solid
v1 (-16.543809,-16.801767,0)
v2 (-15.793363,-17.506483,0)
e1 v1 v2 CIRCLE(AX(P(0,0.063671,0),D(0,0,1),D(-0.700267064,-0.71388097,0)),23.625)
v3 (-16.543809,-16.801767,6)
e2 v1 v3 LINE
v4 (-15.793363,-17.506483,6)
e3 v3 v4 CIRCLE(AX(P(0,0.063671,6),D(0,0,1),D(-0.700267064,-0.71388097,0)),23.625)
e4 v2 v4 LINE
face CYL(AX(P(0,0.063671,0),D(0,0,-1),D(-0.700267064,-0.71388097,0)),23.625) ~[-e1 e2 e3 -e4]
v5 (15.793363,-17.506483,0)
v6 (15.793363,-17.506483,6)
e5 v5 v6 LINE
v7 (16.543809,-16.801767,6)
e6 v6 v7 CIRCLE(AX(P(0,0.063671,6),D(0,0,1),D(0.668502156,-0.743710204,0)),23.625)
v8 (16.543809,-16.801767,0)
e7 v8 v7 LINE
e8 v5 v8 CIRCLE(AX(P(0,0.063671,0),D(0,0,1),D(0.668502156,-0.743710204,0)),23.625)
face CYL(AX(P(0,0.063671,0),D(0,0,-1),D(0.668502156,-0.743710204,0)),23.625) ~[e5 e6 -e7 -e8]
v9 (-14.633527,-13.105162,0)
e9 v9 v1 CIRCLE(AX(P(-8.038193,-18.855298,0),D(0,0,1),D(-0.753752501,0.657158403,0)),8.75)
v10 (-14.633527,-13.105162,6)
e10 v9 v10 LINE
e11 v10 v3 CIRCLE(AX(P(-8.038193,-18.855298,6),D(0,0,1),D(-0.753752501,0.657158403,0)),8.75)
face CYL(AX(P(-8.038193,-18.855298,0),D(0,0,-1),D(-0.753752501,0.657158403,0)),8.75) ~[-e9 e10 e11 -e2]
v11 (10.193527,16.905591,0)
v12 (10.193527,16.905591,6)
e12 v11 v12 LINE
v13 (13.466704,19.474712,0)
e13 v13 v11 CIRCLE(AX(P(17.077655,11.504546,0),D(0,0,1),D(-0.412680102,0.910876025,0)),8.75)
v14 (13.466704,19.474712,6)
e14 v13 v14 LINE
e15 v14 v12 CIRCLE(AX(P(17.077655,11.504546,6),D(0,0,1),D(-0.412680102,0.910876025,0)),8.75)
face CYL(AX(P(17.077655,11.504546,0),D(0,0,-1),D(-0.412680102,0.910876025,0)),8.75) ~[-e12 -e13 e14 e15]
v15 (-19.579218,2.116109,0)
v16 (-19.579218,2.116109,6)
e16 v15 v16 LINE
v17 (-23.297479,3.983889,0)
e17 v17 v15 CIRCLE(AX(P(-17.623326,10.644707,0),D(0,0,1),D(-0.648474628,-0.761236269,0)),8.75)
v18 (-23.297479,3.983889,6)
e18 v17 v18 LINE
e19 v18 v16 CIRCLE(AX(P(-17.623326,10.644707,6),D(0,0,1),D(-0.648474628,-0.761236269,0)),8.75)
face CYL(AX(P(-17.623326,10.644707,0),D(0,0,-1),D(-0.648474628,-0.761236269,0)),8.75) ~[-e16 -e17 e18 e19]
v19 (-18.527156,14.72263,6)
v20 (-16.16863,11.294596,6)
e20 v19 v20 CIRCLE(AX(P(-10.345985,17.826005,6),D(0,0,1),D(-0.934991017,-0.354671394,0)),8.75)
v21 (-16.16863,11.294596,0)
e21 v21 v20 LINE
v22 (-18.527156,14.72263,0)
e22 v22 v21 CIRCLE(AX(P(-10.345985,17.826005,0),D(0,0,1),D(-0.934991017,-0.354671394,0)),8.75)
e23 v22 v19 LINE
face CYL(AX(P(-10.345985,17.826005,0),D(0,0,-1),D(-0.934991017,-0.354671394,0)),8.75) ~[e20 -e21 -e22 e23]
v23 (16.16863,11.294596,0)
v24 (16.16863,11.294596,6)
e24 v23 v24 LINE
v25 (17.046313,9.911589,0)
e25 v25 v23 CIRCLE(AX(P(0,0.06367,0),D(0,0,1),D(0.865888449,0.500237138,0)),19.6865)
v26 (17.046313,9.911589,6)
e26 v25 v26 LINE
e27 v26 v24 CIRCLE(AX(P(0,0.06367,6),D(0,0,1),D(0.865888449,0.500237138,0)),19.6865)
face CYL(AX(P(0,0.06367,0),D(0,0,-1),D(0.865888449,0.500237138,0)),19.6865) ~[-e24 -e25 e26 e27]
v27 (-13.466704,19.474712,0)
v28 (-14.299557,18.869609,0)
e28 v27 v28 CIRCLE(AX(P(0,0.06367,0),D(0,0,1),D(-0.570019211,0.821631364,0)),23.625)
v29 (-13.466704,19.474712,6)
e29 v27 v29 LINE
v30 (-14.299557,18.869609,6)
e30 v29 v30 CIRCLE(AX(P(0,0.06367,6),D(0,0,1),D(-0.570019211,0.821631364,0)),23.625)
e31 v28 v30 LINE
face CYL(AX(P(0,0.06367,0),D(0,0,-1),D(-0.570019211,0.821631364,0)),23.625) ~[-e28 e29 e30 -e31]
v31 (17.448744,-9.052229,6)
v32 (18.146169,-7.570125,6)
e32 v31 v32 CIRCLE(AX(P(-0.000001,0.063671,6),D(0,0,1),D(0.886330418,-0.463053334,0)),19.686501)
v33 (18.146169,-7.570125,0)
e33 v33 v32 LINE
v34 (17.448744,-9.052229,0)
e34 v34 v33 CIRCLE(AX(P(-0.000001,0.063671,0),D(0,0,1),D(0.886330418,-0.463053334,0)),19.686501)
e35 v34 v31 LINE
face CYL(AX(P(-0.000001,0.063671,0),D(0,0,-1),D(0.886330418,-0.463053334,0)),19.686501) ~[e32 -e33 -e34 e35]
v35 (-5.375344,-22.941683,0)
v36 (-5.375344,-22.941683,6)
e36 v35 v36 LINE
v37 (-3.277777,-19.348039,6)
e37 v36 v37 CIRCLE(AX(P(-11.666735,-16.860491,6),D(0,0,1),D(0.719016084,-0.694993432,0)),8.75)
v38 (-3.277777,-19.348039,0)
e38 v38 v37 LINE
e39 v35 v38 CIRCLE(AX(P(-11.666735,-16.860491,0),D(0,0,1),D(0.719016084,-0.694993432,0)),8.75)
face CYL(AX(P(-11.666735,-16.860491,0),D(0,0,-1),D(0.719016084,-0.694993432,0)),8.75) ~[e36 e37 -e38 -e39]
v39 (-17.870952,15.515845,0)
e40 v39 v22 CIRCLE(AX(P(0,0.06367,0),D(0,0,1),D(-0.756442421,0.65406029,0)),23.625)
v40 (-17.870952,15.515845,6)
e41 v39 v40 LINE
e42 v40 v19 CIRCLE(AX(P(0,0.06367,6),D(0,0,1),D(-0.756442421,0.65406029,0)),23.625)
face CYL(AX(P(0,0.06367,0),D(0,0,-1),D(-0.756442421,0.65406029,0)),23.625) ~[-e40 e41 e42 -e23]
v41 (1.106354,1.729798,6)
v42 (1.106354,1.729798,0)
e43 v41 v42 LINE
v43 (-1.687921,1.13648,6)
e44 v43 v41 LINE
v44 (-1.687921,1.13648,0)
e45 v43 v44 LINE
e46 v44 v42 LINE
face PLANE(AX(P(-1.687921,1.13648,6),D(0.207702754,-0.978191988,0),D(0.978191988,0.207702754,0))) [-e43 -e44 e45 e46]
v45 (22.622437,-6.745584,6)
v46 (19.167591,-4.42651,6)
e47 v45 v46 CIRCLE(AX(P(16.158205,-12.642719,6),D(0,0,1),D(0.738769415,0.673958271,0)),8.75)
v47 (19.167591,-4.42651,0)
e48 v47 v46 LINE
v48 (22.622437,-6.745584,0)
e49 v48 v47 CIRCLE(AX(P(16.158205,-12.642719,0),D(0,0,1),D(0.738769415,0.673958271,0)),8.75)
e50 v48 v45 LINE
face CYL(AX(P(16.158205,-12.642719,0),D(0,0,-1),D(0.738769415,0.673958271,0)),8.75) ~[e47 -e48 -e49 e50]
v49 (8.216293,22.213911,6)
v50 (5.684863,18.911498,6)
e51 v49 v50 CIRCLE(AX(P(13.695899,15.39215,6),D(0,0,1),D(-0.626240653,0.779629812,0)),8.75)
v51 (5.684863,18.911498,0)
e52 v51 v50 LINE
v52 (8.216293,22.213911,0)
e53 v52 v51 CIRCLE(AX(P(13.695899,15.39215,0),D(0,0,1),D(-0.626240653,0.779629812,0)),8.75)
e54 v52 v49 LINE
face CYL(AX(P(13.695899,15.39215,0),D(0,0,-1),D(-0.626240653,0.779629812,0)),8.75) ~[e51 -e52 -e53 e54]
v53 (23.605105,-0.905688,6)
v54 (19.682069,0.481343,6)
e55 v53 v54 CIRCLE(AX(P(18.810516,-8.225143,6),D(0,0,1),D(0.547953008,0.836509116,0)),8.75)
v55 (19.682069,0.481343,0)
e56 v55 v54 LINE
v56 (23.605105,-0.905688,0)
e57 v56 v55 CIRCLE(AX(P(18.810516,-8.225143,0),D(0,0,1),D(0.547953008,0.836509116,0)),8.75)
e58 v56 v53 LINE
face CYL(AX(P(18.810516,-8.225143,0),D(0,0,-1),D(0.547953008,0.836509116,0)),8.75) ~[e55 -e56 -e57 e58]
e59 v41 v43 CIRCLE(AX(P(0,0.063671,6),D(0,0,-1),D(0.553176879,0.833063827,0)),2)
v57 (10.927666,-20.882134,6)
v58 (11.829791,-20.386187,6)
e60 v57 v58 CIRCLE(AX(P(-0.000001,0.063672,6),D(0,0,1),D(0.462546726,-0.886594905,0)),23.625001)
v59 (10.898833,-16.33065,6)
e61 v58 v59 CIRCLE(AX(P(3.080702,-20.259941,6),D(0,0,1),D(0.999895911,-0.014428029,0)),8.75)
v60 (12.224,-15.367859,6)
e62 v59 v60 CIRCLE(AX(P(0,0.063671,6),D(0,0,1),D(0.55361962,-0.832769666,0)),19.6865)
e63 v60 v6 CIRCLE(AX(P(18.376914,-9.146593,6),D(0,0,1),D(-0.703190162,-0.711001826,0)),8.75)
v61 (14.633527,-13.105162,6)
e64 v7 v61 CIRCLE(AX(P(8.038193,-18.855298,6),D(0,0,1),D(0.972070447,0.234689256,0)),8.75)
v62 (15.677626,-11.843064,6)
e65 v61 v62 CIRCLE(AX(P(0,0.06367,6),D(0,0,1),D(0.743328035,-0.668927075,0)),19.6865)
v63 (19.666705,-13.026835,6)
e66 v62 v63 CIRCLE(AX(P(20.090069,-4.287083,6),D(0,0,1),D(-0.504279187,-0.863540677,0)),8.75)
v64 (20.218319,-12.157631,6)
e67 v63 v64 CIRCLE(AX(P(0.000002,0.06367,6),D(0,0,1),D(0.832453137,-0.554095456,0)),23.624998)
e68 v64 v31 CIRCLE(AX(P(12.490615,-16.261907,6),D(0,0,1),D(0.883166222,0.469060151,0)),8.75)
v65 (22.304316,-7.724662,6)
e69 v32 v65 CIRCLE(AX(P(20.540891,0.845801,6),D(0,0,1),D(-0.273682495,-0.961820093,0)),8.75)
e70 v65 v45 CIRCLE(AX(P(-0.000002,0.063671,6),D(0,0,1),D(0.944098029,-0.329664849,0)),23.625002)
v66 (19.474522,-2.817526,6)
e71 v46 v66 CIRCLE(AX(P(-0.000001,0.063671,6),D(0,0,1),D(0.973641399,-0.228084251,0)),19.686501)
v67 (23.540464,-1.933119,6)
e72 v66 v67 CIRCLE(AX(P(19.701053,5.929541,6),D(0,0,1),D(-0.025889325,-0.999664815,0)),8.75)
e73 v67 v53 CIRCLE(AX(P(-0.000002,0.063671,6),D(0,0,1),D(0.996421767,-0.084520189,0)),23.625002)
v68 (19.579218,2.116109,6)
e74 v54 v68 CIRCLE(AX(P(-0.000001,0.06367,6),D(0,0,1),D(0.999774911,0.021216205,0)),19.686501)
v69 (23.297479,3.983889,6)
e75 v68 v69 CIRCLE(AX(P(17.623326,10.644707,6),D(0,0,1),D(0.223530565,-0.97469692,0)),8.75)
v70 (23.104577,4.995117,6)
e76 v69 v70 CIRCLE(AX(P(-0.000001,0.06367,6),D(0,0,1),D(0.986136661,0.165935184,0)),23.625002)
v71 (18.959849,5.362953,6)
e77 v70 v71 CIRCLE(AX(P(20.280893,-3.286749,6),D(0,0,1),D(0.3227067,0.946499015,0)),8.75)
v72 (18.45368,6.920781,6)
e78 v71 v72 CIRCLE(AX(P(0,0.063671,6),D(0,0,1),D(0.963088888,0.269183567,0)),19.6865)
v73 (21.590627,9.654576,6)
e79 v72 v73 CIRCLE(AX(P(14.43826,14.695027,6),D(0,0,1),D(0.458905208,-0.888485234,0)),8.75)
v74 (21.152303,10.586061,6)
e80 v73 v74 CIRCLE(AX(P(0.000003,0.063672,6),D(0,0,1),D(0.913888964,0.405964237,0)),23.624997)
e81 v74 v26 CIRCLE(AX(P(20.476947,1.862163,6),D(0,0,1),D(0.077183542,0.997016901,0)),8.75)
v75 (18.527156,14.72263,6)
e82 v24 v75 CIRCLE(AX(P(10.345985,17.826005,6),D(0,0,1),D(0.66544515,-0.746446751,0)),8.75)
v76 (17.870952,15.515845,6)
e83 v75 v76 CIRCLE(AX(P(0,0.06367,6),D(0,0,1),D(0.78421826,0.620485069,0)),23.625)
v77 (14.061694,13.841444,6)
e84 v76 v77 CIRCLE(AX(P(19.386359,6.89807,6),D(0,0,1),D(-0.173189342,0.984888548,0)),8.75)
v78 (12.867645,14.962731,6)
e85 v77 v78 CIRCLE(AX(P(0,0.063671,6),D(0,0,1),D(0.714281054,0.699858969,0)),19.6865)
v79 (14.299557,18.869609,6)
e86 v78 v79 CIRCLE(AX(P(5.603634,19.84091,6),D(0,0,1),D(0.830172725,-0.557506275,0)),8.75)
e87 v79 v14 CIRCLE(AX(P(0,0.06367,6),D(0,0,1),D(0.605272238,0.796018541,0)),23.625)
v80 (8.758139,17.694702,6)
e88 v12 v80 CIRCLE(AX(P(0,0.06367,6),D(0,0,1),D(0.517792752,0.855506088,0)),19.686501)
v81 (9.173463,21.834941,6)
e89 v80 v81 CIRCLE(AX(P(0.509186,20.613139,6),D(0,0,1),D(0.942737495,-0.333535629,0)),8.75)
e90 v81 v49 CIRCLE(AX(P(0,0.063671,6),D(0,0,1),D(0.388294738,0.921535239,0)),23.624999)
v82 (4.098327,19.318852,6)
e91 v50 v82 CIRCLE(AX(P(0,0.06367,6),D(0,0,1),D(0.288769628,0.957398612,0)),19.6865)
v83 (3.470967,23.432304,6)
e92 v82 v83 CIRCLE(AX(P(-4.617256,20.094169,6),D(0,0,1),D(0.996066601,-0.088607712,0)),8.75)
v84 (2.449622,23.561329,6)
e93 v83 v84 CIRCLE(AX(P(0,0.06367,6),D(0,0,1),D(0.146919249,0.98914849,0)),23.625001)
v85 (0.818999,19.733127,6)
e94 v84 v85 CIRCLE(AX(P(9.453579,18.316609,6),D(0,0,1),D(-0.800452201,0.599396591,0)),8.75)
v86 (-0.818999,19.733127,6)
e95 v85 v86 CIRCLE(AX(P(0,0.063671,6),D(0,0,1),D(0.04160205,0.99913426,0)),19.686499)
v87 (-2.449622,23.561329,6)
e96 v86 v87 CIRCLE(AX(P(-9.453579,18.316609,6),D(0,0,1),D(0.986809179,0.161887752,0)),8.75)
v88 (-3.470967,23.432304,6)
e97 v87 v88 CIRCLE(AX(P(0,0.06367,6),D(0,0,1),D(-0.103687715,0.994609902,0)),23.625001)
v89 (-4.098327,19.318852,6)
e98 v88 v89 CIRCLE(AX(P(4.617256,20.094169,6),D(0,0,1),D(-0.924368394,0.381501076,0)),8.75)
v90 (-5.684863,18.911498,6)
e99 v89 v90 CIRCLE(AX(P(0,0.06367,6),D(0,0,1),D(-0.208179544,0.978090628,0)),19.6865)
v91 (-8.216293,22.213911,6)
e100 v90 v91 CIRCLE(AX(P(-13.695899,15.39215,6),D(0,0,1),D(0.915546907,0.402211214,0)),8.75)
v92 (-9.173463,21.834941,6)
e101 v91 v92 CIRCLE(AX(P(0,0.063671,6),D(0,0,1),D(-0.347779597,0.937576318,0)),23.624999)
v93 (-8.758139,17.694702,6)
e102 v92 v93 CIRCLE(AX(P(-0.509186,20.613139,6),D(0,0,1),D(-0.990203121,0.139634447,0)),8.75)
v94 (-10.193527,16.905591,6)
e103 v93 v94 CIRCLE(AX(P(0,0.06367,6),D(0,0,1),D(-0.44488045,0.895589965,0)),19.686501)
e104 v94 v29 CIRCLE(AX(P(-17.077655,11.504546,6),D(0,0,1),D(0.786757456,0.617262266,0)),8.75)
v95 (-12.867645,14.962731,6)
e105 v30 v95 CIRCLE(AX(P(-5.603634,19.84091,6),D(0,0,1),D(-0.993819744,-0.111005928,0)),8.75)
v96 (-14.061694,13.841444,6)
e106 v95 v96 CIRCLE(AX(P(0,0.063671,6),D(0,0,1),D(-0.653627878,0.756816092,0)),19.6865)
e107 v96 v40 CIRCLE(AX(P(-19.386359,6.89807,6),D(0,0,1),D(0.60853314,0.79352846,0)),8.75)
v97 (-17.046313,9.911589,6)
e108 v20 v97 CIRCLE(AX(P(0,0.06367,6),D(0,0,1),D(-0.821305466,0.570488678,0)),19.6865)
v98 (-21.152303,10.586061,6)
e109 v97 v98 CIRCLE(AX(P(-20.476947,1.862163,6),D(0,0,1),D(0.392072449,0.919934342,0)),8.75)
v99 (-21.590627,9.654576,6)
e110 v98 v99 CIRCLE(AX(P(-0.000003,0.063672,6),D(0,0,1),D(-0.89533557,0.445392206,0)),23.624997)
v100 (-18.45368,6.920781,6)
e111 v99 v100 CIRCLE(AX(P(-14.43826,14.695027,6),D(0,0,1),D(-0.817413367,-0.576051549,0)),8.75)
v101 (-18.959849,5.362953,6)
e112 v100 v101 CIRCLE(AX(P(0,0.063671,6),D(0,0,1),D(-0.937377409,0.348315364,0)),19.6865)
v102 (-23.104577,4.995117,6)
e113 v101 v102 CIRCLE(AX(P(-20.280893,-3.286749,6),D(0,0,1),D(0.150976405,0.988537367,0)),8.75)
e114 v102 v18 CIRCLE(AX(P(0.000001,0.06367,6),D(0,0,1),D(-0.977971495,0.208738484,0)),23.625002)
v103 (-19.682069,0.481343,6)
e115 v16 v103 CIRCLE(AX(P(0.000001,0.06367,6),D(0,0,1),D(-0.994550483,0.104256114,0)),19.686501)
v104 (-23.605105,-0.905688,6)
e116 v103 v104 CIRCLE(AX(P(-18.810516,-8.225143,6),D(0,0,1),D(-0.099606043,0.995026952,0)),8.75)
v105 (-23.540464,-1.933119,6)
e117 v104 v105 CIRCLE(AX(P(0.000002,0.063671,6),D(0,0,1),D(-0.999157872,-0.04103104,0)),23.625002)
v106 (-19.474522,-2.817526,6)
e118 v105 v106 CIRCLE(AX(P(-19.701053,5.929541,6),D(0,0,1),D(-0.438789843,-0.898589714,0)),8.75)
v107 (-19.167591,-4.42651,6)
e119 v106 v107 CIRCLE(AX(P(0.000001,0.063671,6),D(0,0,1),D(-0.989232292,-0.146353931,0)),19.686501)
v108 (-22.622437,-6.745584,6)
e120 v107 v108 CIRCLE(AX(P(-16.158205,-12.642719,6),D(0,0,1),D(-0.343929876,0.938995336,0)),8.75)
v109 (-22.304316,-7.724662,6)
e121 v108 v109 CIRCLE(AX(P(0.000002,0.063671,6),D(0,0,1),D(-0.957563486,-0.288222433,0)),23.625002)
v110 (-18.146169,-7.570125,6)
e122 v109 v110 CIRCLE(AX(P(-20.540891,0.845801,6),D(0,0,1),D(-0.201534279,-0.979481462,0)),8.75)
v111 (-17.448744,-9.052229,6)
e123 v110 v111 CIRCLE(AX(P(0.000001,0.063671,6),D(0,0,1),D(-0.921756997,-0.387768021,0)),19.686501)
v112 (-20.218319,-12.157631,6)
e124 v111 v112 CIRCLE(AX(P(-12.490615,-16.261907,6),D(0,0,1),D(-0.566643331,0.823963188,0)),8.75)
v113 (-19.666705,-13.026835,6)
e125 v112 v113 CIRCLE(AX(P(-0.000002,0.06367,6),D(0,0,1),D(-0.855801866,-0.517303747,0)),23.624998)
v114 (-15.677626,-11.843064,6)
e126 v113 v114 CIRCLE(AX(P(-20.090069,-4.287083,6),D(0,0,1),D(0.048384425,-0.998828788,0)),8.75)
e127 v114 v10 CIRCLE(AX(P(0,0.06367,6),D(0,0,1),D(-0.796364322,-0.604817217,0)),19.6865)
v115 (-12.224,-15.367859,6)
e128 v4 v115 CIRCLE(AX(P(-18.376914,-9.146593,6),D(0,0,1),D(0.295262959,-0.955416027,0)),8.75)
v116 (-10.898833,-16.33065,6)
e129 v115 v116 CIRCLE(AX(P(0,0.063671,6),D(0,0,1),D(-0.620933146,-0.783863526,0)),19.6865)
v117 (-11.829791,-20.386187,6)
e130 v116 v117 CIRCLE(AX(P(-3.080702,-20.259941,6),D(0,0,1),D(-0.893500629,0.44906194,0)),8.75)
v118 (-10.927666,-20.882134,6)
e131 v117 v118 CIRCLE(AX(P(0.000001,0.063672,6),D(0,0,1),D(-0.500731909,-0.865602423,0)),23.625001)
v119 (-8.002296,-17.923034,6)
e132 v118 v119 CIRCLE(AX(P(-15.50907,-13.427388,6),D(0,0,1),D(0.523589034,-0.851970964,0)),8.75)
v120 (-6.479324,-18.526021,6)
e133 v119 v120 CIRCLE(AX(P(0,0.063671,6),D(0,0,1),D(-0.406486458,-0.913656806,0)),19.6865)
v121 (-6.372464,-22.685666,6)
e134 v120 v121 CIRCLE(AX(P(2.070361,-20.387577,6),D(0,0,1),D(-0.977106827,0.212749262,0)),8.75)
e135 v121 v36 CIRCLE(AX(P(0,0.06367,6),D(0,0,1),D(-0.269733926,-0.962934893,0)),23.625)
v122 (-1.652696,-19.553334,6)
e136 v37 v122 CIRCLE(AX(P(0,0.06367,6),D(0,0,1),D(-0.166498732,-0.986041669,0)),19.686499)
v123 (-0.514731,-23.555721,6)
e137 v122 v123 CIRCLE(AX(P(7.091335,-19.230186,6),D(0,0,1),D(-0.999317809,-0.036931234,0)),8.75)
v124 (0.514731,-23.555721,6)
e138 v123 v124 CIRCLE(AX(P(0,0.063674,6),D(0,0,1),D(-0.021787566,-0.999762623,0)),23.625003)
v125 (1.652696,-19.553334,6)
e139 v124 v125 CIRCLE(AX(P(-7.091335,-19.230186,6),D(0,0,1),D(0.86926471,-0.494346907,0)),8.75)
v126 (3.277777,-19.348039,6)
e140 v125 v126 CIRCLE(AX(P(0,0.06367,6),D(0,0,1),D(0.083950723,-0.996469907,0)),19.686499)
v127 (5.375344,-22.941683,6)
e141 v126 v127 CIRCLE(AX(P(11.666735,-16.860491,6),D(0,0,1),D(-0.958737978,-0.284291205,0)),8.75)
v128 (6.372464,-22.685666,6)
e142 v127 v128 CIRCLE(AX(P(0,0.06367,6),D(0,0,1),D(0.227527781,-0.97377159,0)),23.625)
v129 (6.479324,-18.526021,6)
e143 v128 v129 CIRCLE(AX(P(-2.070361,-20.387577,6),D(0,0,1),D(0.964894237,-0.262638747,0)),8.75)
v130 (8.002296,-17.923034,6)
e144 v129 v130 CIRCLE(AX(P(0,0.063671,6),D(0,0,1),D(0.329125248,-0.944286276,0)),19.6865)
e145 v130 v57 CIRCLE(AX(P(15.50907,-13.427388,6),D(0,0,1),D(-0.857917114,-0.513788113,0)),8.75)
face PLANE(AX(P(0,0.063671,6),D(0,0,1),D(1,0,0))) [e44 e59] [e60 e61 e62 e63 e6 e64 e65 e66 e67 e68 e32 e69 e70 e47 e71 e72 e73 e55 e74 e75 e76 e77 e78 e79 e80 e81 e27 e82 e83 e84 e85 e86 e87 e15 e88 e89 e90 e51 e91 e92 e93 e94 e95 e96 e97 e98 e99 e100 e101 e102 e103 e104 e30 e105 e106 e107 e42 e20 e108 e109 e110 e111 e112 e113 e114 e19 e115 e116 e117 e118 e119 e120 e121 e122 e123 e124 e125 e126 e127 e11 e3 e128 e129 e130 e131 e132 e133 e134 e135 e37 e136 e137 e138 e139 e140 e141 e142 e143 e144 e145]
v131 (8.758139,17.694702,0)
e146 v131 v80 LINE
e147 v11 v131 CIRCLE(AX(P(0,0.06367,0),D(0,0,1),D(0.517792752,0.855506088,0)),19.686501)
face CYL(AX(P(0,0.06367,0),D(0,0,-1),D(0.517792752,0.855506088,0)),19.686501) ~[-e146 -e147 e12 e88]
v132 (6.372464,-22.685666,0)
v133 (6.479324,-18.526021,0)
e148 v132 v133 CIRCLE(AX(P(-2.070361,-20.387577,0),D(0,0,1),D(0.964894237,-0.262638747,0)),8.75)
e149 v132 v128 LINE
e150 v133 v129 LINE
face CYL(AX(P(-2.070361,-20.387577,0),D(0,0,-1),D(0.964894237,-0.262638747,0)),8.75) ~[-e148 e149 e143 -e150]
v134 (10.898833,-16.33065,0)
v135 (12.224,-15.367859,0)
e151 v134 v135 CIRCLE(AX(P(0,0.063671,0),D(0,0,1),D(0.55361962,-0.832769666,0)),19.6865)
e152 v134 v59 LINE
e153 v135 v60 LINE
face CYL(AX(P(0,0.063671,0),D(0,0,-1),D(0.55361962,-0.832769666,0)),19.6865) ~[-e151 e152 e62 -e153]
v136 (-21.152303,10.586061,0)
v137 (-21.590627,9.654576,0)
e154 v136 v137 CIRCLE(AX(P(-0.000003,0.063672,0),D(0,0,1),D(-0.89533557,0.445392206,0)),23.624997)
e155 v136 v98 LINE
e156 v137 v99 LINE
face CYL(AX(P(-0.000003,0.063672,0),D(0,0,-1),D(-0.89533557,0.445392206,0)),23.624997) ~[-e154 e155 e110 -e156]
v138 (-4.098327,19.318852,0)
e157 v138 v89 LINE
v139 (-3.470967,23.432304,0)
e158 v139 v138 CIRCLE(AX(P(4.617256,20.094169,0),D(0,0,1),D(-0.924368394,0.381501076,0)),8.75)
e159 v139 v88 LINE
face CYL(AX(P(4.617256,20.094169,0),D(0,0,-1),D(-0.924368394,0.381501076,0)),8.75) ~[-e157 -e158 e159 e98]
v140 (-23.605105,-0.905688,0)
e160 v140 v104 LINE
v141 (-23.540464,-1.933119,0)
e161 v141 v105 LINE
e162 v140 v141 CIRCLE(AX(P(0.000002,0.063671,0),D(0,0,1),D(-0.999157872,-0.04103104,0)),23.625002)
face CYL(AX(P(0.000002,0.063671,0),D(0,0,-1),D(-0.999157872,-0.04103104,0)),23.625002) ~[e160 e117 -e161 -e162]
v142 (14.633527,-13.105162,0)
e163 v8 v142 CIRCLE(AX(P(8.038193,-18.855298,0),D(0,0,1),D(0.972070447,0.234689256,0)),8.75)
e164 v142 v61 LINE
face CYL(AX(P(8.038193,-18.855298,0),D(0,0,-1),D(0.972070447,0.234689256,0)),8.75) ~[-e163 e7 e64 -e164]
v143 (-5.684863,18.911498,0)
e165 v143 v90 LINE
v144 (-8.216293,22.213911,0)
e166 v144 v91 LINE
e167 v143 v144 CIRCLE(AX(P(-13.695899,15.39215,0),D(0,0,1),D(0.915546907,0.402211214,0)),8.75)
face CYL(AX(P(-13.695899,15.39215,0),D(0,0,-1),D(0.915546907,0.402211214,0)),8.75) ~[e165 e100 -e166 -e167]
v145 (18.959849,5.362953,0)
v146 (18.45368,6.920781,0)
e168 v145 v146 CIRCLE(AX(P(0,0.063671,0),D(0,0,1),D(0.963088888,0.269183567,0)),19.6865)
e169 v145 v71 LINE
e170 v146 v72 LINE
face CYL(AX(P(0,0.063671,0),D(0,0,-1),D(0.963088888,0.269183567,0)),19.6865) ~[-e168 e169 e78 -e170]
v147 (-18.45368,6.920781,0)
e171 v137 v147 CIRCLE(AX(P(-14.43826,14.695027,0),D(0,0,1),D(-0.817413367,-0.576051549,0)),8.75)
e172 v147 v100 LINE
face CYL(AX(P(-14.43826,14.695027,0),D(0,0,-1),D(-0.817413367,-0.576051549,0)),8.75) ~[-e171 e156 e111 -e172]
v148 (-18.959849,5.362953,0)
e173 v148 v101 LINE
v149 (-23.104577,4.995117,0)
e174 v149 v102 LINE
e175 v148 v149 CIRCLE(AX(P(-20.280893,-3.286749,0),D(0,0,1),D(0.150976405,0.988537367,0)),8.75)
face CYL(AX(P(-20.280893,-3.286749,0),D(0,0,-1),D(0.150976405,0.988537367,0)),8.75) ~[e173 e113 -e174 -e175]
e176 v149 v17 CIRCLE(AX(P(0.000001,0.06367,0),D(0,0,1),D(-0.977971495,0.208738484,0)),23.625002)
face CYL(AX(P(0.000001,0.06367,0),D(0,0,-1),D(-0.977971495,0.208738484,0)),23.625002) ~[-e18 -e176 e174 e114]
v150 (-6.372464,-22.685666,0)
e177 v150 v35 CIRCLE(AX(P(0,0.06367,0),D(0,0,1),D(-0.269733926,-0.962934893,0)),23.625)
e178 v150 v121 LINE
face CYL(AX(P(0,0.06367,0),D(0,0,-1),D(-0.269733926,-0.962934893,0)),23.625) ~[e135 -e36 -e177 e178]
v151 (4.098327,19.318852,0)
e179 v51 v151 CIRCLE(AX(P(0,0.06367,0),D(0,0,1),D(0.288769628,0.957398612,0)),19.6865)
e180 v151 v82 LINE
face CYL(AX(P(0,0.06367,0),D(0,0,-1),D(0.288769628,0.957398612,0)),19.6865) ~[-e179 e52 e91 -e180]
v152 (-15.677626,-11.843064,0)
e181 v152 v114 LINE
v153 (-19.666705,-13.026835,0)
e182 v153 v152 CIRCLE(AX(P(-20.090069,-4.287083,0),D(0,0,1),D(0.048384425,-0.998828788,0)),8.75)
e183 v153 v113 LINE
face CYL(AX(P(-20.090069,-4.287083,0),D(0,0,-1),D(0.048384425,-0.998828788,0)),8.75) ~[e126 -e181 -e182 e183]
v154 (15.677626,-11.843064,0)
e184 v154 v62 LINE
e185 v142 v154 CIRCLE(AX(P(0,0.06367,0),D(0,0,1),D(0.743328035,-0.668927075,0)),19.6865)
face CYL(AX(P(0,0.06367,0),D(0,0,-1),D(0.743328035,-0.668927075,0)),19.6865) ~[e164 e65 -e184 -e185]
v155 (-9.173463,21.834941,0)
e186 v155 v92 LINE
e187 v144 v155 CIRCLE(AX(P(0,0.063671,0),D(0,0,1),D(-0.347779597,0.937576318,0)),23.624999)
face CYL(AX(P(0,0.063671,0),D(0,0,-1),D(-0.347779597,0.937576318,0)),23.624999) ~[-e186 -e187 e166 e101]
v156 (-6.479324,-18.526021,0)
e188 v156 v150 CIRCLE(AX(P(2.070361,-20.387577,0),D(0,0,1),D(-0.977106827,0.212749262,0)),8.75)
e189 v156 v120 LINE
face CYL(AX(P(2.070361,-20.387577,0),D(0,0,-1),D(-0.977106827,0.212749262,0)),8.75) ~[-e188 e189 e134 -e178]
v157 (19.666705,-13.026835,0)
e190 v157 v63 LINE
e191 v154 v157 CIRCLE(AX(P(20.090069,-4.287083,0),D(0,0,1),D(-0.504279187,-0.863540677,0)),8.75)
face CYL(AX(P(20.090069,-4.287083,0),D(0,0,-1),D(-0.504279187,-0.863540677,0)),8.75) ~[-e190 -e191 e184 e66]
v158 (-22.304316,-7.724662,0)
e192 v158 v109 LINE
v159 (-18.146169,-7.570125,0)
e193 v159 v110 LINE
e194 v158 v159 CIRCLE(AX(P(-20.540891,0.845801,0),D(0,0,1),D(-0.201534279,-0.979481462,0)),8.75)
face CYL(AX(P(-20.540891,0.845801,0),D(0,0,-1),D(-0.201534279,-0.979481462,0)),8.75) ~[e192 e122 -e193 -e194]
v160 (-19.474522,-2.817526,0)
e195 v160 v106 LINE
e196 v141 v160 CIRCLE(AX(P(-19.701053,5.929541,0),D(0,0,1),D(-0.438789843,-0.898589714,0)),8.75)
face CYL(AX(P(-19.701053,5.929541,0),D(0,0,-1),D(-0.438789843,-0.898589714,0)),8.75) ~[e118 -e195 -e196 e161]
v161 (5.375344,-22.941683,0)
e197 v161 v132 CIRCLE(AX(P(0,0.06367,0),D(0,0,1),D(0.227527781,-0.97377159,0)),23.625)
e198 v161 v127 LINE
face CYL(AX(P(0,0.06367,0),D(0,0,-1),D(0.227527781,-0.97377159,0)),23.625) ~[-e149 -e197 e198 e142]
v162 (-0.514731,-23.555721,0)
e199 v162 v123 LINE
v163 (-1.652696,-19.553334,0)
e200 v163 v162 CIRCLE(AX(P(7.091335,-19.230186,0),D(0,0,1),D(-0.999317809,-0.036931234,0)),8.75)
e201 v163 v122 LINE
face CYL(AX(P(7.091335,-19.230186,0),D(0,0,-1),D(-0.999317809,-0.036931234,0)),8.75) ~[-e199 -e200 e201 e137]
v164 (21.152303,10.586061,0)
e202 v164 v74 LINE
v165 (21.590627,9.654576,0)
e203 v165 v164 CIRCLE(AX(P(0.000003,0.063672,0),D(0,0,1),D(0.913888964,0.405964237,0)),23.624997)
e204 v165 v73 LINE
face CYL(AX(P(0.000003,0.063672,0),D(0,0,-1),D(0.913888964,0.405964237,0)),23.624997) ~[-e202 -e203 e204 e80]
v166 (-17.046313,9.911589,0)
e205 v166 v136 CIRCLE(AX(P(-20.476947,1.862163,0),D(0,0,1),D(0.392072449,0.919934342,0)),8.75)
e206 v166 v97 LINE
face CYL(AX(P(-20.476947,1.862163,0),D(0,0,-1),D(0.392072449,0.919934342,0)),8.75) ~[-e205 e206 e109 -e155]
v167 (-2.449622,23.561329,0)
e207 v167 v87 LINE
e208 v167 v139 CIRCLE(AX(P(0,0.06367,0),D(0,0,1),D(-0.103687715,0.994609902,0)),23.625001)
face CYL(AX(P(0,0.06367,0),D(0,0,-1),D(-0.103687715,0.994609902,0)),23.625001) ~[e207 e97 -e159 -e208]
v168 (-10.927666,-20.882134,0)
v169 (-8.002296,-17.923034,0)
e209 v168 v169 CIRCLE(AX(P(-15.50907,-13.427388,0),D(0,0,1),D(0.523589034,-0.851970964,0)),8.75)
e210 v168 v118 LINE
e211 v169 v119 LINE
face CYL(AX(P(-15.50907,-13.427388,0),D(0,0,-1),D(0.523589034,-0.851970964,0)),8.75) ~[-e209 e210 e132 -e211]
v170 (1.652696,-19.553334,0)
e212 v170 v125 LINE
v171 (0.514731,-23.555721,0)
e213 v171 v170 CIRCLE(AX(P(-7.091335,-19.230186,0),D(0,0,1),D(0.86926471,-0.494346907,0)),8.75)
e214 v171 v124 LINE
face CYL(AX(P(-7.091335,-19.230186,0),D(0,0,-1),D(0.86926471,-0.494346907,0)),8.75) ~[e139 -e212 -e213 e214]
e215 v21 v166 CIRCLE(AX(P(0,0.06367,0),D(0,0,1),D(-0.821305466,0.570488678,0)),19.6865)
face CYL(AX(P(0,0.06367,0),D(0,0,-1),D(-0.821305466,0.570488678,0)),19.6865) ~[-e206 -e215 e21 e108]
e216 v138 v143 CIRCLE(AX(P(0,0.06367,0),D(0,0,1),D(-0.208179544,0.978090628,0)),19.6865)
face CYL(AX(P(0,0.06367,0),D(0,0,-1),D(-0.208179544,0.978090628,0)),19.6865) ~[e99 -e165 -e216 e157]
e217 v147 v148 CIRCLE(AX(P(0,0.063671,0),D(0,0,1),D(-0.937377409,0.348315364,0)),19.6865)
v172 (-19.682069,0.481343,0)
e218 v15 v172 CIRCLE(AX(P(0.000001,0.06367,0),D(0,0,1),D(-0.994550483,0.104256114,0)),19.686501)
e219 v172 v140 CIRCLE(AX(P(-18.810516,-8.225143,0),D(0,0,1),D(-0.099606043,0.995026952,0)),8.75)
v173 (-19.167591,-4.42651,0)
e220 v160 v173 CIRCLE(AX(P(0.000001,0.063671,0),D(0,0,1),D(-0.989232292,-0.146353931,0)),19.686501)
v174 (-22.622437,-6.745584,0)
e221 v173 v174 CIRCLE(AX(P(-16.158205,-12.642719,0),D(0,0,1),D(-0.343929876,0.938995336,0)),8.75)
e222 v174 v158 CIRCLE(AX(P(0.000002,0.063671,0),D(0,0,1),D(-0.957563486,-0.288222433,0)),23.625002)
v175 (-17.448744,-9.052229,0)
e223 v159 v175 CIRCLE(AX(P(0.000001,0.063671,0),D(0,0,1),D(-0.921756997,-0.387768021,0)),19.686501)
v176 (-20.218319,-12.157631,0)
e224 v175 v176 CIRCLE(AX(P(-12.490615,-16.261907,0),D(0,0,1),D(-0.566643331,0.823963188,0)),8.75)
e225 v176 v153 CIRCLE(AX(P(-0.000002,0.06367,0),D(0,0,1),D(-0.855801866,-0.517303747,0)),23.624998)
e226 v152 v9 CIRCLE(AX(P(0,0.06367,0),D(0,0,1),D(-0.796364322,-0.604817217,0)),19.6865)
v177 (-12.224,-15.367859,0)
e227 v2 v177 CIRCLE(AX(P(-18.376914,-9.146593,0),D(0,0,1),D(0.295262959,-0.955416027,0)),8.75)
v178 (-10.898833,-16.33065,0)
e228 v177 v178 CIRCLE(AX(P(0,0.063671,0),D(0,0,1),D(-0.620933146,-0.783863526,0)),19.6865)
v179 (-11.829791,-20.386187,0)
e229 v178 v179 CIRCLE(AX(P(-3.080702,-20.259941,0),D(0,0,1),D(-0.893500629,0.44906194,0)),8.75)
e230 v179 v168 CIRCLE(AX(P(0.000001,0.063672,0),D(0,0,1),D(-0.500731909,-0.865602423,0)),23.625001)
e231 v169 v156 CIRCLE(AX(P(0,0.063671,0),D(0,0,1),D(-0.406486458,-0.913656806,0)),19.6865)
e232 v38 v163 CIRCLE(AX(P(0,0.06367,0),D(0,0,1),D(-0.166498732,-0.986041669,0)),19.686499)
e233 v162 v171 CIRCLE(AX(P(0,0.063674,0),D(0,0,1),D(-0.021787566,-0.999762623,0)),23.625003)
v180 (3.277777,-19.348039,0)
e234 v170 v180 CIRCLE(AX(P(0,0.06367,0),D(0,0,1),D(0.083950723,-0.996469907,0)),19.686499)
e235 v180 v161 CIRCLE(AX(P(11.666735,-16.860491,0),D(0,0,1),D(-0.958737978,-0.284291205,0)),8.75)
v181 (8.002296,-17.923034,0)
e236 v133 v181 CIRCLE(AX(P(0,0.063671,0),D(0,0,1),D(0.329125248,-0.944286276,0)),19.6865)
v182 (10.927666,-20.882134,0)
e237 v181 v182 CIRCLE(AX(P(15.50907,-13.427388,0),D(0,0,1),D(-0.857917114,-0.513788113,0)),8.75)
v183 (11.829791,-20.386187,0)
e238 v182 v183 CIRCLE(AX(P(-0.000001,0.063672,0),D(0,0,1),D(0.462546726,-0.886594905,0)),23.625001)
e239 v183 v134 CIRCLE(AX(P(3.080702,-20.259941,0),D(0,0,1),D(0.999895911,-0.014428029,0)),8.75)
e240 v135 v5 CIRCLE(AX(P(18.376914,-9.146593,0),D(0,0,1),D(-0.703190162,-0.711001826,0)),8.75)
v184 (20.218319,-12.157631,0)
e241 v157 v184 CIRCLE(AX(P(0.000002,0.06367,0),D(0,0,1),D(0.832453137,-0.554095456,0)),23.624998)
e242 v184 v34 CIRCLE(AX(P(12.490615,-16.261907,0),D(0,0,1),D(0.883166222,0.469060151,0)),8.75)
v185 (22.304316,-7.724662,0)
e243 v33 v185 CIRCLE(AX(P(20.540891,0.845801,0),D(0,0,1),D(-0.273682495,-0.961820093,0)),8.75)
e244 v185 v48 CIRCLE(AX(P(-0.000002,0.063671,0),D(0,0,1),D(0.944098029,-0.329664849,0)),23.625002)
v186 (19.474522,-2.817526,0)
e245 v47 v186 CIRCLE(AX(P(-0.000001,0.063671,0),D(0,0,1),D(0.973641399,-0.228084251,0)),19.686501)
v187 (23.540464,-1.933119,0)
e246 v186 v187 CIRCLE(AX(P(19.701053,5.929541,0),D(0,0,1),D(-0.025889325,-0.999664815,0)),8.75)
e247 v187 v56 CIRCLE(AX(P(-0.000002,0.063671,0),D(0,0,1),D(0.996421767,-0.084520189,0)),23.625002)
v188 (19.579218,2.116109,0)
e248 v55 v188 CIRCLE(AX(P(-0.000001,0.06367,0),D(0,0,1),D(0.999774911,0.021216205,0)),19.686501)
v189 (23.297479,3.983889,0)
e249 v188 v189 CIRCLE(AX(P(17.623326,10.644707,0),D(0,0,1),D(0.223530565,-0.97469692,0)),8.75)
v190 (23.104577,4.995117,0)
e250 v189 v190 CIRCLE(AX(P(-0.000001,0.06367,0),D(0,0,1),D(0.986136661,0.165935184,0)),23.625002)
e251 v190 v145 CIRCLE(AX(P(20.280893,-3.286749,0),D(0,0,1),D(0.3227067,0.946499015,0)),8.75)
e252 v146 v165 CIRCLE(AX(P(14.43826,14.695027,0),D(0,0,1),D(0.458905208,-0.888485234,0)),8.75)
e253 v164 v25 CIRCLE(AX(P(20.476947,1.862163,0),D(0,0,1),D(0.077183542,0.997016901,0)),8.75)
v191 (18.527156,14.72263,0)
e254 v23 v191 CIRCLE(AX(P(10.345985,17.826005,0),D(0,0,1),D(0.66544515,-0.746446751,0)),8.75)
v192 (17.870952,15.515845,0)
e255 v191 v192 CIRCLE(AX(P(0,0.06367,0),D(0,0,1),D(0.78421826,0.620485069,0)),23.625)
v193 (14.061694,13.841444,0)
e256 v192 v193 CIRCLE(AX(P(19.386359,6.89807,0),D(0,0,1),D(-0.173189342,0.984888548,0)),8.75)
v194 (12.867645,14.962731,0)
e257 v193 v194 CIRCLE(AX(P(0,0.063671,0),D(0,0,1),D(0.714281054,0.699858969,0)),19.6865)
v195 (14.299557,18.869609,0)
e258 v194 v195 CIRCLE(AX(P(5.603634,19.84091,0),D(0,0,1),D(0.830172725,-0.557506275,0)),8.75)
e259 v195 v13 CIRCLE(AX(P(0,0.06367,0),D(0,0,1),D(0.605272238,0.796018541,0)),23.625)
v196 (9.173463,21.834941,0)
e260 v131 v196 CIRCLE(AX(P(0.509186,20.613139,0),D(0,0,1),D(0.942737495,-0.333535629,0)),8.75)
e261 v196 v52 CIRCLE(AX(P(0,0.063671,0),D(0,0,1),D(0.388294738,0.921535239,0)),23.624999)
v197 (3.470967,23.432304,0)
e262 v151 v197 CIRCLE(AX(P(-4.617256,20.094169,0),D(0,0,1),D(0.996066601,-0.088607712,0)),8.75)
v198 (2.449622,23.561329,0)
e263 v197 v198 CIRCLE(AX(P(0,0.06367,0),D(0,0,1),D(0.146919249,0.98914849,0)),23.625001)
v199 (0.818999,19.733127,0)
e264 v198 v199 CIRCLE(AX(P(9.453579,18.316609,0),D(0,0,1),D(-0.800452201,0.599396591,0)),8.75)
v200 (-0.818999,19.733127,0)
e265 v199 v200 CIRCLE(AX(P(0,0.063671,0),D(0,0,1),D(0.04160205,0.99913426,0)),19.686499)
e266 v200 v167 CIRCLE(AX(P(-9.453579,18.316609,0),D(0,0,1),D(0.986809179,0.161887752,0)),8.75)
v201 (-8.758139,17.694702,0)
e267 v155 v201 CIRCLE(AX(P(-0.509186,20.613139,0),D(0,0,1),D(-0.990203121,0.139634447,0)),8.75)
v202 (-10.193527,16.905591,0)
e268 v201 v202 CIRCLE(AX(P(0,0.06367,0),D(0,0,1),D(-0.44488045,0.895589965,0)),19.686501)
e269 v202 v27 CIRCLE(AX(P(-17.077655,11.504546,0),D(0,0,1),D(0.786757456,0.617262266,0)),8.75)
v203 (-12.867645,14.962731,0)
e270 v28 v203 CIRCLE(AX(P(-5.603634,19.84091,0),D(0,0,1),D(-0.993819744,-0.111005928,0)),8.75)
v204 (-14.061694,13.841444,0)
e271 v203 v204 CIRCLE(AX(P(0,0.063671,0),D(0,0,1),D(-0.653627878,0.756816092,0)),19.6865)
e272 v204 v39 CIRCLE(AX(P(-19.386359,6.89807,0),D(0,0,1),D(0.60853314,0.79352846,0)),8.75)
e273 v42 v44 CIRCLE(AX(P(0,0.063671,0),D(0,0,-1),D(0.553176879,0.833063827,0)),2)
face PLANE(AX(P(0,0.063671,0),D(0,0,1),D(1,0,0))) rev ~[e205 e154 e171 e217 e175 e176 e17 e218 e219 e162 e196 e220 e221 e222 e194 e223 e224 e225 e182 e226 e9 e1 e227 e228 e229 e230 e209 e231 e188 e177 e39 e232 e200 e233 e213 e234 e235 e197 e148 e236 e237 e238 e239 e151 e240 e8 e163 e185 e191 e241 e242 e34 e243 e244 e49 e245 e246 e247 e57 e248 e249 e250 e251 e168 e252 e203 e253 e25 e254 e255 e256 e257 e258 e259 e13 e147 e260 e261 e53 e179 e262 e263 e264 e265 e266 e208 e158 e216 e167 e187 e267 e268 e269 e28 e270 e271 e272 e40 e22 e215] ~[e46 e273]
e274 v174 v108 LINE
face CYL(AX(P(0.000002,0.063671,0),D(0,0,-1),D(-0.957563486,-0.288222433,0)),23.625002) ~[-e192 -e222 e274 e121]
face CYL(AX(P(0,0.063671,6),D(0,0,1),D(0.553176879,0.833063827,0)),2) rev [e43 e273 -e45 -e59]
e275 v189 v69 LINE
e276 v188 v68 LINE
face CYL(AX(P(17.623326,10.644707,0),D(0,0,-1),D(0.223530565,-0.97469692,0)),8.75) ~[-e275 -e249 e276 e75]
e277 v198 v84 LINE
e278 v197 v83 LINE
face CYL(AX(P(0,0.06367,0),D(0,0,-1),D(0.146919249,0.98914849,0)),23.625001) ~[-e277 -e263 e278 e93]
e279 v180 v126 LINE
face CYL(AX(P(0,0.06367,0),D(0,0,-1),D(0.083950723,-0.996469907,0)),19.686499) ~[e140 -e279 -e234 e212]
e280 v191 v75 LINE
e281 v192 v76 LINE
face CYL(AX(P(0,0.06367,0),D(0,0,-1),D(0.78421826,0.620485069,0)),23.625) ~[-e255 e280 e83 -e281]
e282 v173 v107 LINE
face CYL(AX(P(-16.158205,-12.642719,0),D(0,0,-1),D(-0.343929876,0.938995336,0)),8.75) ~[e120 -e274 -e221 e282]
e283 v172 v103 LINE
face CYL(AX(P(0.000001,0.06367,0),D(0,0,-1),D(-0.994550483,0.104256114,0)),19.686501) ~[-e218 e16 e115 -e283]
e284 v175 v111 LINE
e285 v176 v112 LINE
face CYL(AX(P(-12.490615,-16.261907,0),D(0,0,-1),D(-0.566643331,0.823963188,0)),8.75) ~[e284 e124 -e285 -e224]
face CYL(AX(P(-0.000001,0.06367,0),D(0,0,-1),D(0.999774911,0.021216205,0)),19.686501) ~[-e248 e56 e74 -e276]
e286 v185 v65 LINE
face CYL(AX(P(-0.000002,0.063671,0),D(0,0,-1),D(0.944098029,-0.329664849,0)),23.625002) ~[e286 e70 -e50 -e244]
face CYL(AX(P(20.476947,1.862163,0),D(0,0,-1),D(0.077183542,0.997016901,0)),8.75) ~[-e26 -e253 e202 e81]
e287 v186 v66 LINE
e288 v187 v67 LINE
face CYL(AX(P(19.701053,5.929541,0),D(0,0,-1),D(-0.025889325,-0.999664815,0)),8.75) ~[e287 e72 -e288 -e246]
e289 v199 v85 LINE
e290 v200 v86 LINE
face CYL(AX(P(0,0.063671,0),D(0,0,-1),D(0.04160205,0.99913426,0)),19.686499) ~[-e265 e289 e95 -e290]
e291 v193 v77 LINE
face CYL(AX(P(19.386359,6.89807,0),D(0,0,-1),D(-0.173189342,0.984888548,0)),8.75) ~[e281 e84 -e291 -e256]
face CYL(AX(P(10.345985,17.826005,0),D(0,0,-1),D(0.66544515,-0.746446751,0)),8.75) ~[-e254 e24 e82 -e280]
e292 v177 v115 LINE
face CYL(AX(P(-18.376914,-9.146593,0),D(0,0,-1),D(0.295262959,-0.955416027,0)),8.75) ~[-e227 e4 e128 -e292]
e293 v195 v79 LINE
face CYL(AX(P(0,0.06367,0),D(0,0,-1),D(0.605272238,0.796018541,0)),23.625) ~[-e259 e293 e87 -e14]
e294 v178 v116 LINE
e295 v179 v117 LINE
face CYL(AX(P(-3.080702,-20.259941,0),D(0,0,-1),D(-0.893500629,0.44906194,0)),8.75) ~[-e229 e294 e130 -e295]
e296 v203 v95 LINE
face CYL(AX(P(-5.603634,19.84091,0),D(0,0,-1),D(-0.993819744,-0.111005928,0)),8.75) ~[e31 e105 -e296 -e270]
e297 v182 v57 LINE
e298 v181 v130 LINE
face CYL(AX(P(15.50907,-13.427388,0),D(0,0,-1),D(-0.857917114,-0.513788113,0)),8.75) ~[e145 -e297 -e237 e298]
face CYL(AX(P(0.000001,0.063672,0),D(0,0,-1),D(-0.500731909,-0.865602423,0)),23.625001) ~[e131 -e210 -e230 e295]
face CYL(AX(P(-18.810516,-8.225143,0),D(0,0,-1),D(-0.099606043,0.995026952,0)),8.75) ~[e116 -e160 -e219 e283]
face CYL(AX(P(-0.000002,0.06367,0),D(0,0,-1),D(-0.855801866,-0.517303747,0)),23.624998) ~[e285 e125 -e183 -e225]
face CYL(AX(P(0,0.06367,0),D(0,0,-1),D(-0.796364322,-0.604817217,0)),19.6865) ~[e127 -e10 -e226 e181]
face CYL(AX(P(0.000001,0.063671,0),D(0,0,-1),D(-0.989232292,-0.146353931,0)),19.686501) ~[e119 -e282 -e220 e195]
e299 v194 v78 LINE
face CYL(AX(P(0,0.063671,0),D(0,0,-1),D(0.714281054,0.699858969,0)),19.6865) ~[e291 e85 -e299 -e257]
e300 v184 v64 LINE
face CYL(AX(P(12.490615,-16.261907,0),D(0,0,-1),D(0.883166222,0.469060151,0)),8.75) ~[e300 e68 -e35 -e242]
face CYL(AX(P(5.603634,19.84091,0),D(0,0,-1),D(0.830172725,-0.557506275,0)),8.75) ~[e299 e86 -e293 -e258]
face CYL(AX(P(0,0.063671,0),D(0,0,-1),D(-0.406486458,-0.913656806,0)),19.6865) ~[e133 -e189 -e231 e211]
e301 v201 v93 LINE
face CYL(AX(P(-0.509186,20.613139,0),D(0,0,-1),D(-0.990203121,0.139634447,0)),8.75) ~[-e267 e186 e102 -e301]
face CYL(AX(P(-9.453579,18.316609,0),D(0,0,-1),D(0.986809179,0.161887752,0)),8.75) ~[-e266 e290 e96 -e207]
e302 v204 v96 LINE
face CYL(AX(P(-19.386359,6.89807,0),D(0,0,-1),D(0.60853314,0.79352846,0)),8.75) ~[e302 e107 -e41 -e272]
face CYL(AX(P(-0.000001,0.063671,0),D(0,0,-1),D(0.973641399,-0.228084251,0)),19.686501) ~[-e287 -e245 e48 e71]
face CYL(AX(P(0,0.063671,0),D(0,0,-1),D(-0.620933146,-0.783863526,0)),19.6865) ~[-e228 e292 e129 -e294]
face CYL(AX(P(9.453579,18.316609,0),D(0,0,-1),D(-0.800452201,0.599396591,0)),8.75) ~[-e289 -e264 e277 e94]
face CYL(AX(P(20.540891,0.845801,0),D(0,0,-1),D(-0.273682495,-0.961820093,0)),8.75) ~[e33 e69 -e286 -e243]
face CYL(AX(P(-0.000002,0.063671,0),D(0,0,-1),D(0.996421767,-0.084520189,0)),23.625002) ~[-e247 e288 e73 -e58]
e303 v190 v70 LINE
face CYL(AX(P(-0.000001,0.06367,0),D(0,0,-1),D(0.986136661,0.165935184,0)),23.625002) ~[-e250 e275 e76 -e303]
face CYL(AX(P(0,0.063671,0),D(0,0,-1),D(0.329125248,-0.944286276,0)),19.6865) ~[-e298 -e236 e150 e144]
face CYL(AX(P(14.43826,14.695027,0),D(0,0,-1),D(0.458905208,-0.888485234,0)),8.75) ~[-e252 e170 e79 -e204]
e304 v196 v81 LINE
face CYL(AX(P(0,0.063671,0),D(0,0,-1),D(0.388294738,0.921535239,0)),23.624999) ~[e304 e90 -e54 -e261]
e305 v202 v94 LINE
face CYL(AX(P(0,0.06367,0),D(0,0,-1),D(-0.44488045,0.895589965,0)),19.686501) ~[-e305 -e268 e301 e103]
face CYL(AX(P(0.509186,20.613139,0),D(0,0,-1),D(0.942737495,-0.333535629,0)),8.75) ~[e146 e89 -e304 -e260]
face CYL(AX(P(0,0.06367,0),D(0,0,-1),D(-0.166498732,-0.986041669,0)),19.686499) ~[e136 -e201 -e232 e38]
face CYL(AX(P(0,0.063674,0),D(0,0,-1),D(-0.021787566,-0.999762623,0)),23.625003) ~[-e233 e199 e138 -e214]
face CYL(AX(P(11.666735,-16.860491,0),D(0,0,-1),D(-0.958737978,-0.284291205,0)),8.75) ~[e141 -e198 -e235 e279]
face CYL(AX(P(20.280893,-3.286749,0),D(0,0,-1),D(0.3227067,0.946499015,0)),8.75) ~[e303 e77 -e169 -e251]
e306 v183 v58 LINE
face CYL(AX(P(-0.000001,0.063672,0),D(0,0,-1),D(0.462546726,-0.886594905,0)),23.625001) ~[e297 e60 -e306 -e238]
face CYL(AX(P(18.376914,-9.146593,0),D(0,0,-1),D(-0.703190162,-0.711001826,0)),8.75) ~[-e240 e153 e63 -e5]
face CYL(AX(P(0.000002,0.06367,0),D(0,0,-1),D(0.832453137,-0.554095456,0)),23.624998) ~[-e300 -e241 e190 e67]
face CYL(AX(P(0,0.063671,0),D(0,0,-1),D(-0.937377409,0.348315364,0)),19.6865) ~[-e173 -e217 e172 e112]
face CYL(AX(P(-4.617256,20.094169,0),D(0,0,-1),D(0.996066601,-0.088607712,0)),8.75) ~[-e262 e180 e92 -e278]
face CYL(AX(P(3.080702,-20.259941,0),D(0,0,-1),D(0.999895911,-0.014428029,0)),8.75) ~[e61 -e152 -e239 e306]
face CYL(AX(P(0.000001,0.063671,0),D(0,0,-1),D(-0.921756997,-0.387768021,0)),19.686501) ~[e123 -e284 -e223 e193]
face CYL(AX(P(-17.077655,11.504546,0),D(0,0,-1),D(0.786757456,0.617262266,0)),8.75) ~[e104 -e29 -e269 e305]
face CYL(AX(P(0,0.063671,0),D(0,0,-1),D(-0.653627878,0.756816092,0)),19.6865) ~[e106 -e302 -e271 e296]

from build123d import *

# Parameters (mm, degrees)
BOSS_EXTRUDE1_DEPTH = 6
CUT_EXTRUDE1_DEPTH  = 6


with BuildPart() as part:
    # Sketch1 → Boss-Extrude1 (new body)
    with BuildSketch(Plane.XY):
        with BuildLine():
            ThreePointArc((-23.297478626, 3.98388923), (-21.550990273, 2.825758414), (-19.579218077, 2.11610853))
            ThreePointArc((-19.579218077, 2.11610853), (-19.647653189, 1.299796091), (-19.682068786, 0.481343326))
            ThreePointArc((-19.682068786, 0.481343326), (-21.727235684, 0.024417829), (-23.605104735, -0.905687747))
            ThreePointArc((-23.605104735, -0.905687747), (-23.578381459, -1.419755495), (-23.540464241, -1.93311898))
            ThreePointArc((-23.540464241, -1.93311898), (-21.560829609, -2.620530995), (-19.474521512, -2.817526118))
            ThreePointArc((-19.474521512, -2.817526118), (-19.337797961, -3.625211721), (-19.167591403, -4.426510099))
            ThreePointArc((-19.167591403, -4.426510099), (-21.034872872, -5.377692766), (-22.622437362, -6.745584408))
            ThreePointArc((-22.622437362, -6.745584408), (-22.468710197, -7.236855963), (-22.304315911, -7.724661561))
            ThreePointArc((-22.304315911, -7.724661561), (-20.215922725, -7.898162151), (-18.146169139, -7.570124585))
            ThreePointArc((-18.146169139, -7.570124585), (-17.812877768, -8.318433495), (-17.448743759, -9.052228961))
            ThreePointArc((-17.448743759, -9.052228961), (-19.020811637, -10.437902494), (-20.218319051, -12.157630537))
            ThreePointArc((-20.218319051, -12.157630537), (-19.94724724, -12.595237503), (-19.666705383, -13.026834594))
            ThreePointArc((-19.666705383, -13.026834594), (-17.600775067, -12.675522078), (-15.677626222, -11.843063629))
            ThreePointArc((-15.677626222, -11.843063629), (-15.168708954, -12.484976846), (-14.633527372, -13.105162332))
            ThreePointArc((-14.633527372, -13.105162332), (-15.811602852, -14.838259766), (-16.543809396, -16.801767375))
            ThreePointArc((-16.543809396, -16.801767375), (-16.172425378, -17.158213294), (-15.793363427, -17.506483047))
            ThreePointArc((-15.793363427, -17.506483047), (-13.879705981, -16.652431682), (-12.22400039, -15.367858777))
            ThreePointArc((-12.22400039, -15.367858777), (-11.571434369, -15.863042531), (-10.898832642, -16.330649503))
            ThreePointArc((-10.898832642, -16.330649503), (-11.60889291, -18.302273952), (-11.829791353, -20.386186721))
            ThreePointArc((-11.829791353, -20.386186721), (-11.381430551, -20.639074787), (-10.927666363, -20.882134132))
            ThreePointArc((-10.927666363, -20.882134132), (-9.286523922, -19.579007107), (-8.002295658, -17.923034185))
            ThreePointArc((-8.002295658, -17.923034185), (-7.247084006, -18.240374261), (-6.479324175, -18.526021252))
            ThreePointArc((-6.479324175, -18.526021252), (-6.676753531, -20.612288301), (-6.372464012, -22.685666328))
            ThreePointArc((-6.372464012, -22.685666328), (-5.875298584, -22.819106653), (-5.375343832, -22.941683276))
            ThreePointArc((-5.375343832, -22.941683276), (-4.109835412, -21.271360855), (-3.277777259, -19.348038785))
            ThreePointArc((-3.277777259, -19.348038785), (-2.467372703, -19.467595539), (-1.65269594, -19.553334298))
            ThreePointArc((-1.65269594, -19.553334298), (-1.325089173, -21.623156117), (-0.514731321, -23.555721434))
            ThreePointArc((-0.514731321, -23.555721434), (0, -23.561329471), (0.514731321, -23.555721434))
            ThreePointArc((0.514731321, -23.555721434), (1.325089173, -21.623156117), (1.65269594, -19.553334298))
            ThreePointArc((1.65269594, -19.553334298), (2.467372703, -19.467595539), (3.277777259, -19.348038785))
            ThreePointArc((3.277777259, -19.348038785), (4.109835412, -21.271360855), (5.375343832, -22.941683276))
            ThreePointArc((5.375343832, -22.941683276), (5.875298584, -22.819106653), (6.372464012, -22.685666328))
            ThreePointArc((6.372464012, -22.685666328), (6.676753531, -20.612288301), (6.479324175, -18.526021252))
            ThreePointArc((6.479324175, -18.526021252), (7.247084006, -18.240374261), (8.002295658, -17.923034185))
            ThreePointArc((8.002295658, -17.923034185), (9.286523922, -19.579007107), (10.927666363, -20.882134132))
            ThreePointArc((10.927666363, -20.882134132), (11.381430551, -20.639074787), (11.829791353, -20.386186721))
            ThreePointArc((11.829791353, -20.386186721), (11.60889291, -18.302273952), (10.898832642, -16.330649503))
            ThreePointArc((10.898832642, -16.330649503), (11.571434369, -15.863042531), (12.22400039, -15.367858777))
            ThreePointArc((12.22400039, -15.367858777), (13.879705981, -16.652431682), (15.793363427, -17.506483047))
            ThreePointArc((15.793363427, -17.506483047), (16.172425378, -17.158213294), (16.543809396, -16.801767375))
            ThreePointArc((16.543809396, -16.801767375), (15.811602852, -14.838259766), (14.633527372, -13.105162332))
            ThreePointArc((14.633527372, -13.105162332), (15.168708954, -12.484976846), (15.677626222, -11.843063629))
            ThreePointArc((15.677626222, -11.843063629), (17.600775067, -12.675522078), (19.666705383, -13.026834594))
            ThreePointArc((19.666705383, -13.026834594), (19.94724724, -12.595237503), (20.218319051, -12.157630537))
            ThreePointArc((20.218319051, -12.157630537), (19.020811637, -10.437902494), (17.448743759, -9.052228961))
            ThreePointArc((17.448743759, -9.052228961), (17.812877768, -8.318433495), (18.146169139, -7.570124585))
            ThreePointArc((18.146169139, -7.570124585), (20.215922725, -7.898162151), (22.304315911, -7.724661561))
            ThreePointArc((22.304315911, -7.724661561), (22.468710197, -7.236855963), (22.622437362, -6.745584408))
            ThreePointArc((22.622437362, -6.745584408), (21.034872872, -5.377692766), (19.167591403, -4.426510099))
            ThreePointArc((19.167591403, -4.426510099), (19.337797961, -3.625211721), (19.474521512, -2.817526118))
            ThreePointArc((19.474521512, -2.817526118), (21.560829609, -2.620530995), (23.540464241, -1.93311898))
            ThreePointArc((23.540464241, -1.93311898), (23.578381459, -1.419755495), (23.605104735, -0.905687747))
            ThreePointArc((23.605104735, -0.905687747), (21.727235684, 0.024417829), (19.682068786, 0.481343326))
            ThreePointArc((19.682068786, 0.481343326), (19.647653189, 1.299796091), (19.579218077, 2.11610853))
            ThreePointArc((19.579218077, 2.11610853), (21.550990273, 2.825758414), (23.297478626, 3.98388923))
            ThreePointArc((23.297478626, 3.98388923), (23.206536298, 4.490554086), (23.104576563, 4.995117258))
            ThreePointArc((23.104576563, 4.995117258), (21.054396371, 5.428994815), (18.959849401, 5.362952832))
            ThreePointArc((18.959849401, 5.362952832), (18.722974108, 6.147133588), (18.453680362, 6.920780951))
            ThreePointArc((18.453680362, 6.920780951), (20.18702296, 8.098495683), (21.590626747, 9.654575682))
            ThreePointArc((21.590626747, 9.654575682), (21.376539115, 10.122706292), (21.152302873, 10.586061329))
            ThreePointArc((21.152302873, 10.586061329), (19.058631901, 10.496448744), (17.046312949, 9.911588942))
            ThreePointArc((17.046312949, 9.911588942), (16.621861705, 10.612224728), (16.168630043, 11.294595904))
            ThreePointArc((16.168630043, 11.294595904), (17.554630751, 12.866375338), (18.527156386, 14.722630289))
            ThreePointArc((18.527156386, 14.722630289), (18.203375361, 15.122812286), (17.870952201, 15.515844888))
            ThreePointArc((17.870952201, 15.515844888), (15.865343497, 14.908372849), (14.061693963, 13.84144412))
            ThreePointArc((14.061693963, 13.84144412), (13.476336601, 14.414511412), (12.867645233, 14.962730512))
            ThreePointArc((12.867645233, 14.962730512), (13.819216531, 16.829813965), (14.29955665, 18.869608544))
            ThreePointArc((14.29955665, 18.869608544), (13.886426585, 19.176697021), (13.466703877, 19.474711502))
            ThreePointArc((13.466703877, 19.474711502), (11.675177211, 18.387549712), (10.19352703, 16.905591112))
            ThreePointArc((10.19352703, 16.905591112), (9.484043705, 17.315081985), (8.75813895, 17.694702387))
            ThreePointArc((8.75813895, 17.694702387), (9.215490113, 19.739774138), (9.17346318, 21.834940549))
            ThreePointArc((9.17346318, 21.834940549), (8.696942557, 22.029640008), (8.216293022, 22.213911023))
            ThreePointArc((8.216293022, 22.213911023), (6.751416603, 20.715369856), (5.684863304, 18.911498294))
            ThreePointArc((5.684863304, 18.911498294), (4.895833464, 19.13168293), (4.098326587, 19.318851687))
            ThreePointArc((4.098326587, 19.318851687), (4.032720558, 21.413412357), (3.47096728, 23.43230359))
            ThreePointArc((3.47096728, 23.43230359), (2.960997643, 23.502380347), (2.449622259, 23.561329471))
            ThreePointArc((2.449622259, 23.561329471), (1.40343966, 21.745567779), (0.818998709, 19.733127139))
            ThreePointArc((0.818998709, 19.733127139), (0, 19.750170529), (-0.818998709, 19.733127139))
            ThreePointArc((-0.818998709, 19.733127139), (-1.40343966, 21.745567779), (-2.449622259, 23.561329471))
            ThreePointArc((-2.449622259, 23.561329471), (-2.960997643, 23.502380347), (-3.47096728, 23.43230359))
            ThreePointArc((-3.47096728, 23.43230359), (-4.032720558, 21.413412357), (-4.098326587, 19.318851687))
            ThreePointArc((-4.098326587, 19.318851687), (-4.895833464, 19.13168293), (-5.684863304, 18.911498294))
            ThreePointArc((-5.684863304, 18.911498294), (-6.751416603, 20.715369856), (-8.216293022, 22.213911023))
            ThreePointArc((-8.216293022, 22.213911023), (-8.696942557, 22.029640008), (-9.17346318, 21.834940549))
            ThreePointArc((-9.17346318, 21.834940549), (-9.215490113, 19.739774138), (-8.75813895, 17.694702387))
            ThreePointArc((-8.75813895, 17.694702387), (-9.484043705, 17.315081985), (-10.19352703, 16.905591112))
            ThreePointArc((-10.19352703, 16.905591112), (-11.675177211, 18.387549712), (-13.466703877, 19.474711502))
            ThreePointArc((-13.466703877, 19.474711502), (-13.886426585, 19.176697021), (-14.29955665, 18.869608544))
            ThreePointArc((-14.29955665, 18.869608544), (-13.819216531, 16.829813965), (-12.867645233, 14.962730512))
            ThreePointArc((-12.867645233, 14.962730512), (-13.476336601, 14.414511412), (-14.061693963, 13.84144412))
            ThreePointArc((-14.061693963, 13.84144412), (-15.865343497, 14.908372849), (-17.870952201, 15.515844888))
            ThreePointArc((-17.870952201, 15.515844888), (-18.203375361, 15.122812286), (-18.527156386, 14.722630289))
            ThreePointArc((-18.527156386, 14.722630289), (-17.554630751, 12.866375338), (-16.168630043, 11.294595904))
            ThreePointArc((-16.168630043, 11.294595904), (-16.621861705, 10.612224728), (-17.046312949, 9.911588942))
            ThreePointArc((-17.046312949, 9.911588942), (-19.058631901, 10.496448744), (-21.152302873, 10.586061329))
            ThreePointArc((-21.152302873, 10.586061329), (-21.376539115, 10.122706292), (-21.590626747, 9.654575682))
            ThreePointArc((-21.590626747, 9.654575682), (-20.18702296, 8.098495683), (-18.453680362, 6.920780951))
            ThreePointArc((-18.453680362, 6.920780951), (-18.722974108, 6.147133588), (-18.959849401, 5.362952832))
            ThreePointArc((-18.959849401, 5.362952832), (-21.054396371, 5.428994815), (-23.104576563, 4.995117258))
            ThreePointArc((-23.104576563, 4.995117258), (-23.206536298, 4.490554086), (-23.297478626, 3.98388923))
        make_face()
    extrude(amount=BOSS_EXTRUDE1_DEPTH)

    # Sketch2 → Cut-Extrude1 (cut)
    with BuildSketch(Plane.XY.offset(6)):
        with BuildLine():
            Line((-1.68792147, 1.136480442), (1.106353759, 1.729798183))
            ThreePointArc((1.106353759, 1.729798183), (0.415405508, -1.892713448), (-1.68792147, 1.136480442))
        make_face()
    extrude(amount=-CUT_EXTRUDE1_DEPTH, mode=Mode.SUBTRACT)


solid = part.part
